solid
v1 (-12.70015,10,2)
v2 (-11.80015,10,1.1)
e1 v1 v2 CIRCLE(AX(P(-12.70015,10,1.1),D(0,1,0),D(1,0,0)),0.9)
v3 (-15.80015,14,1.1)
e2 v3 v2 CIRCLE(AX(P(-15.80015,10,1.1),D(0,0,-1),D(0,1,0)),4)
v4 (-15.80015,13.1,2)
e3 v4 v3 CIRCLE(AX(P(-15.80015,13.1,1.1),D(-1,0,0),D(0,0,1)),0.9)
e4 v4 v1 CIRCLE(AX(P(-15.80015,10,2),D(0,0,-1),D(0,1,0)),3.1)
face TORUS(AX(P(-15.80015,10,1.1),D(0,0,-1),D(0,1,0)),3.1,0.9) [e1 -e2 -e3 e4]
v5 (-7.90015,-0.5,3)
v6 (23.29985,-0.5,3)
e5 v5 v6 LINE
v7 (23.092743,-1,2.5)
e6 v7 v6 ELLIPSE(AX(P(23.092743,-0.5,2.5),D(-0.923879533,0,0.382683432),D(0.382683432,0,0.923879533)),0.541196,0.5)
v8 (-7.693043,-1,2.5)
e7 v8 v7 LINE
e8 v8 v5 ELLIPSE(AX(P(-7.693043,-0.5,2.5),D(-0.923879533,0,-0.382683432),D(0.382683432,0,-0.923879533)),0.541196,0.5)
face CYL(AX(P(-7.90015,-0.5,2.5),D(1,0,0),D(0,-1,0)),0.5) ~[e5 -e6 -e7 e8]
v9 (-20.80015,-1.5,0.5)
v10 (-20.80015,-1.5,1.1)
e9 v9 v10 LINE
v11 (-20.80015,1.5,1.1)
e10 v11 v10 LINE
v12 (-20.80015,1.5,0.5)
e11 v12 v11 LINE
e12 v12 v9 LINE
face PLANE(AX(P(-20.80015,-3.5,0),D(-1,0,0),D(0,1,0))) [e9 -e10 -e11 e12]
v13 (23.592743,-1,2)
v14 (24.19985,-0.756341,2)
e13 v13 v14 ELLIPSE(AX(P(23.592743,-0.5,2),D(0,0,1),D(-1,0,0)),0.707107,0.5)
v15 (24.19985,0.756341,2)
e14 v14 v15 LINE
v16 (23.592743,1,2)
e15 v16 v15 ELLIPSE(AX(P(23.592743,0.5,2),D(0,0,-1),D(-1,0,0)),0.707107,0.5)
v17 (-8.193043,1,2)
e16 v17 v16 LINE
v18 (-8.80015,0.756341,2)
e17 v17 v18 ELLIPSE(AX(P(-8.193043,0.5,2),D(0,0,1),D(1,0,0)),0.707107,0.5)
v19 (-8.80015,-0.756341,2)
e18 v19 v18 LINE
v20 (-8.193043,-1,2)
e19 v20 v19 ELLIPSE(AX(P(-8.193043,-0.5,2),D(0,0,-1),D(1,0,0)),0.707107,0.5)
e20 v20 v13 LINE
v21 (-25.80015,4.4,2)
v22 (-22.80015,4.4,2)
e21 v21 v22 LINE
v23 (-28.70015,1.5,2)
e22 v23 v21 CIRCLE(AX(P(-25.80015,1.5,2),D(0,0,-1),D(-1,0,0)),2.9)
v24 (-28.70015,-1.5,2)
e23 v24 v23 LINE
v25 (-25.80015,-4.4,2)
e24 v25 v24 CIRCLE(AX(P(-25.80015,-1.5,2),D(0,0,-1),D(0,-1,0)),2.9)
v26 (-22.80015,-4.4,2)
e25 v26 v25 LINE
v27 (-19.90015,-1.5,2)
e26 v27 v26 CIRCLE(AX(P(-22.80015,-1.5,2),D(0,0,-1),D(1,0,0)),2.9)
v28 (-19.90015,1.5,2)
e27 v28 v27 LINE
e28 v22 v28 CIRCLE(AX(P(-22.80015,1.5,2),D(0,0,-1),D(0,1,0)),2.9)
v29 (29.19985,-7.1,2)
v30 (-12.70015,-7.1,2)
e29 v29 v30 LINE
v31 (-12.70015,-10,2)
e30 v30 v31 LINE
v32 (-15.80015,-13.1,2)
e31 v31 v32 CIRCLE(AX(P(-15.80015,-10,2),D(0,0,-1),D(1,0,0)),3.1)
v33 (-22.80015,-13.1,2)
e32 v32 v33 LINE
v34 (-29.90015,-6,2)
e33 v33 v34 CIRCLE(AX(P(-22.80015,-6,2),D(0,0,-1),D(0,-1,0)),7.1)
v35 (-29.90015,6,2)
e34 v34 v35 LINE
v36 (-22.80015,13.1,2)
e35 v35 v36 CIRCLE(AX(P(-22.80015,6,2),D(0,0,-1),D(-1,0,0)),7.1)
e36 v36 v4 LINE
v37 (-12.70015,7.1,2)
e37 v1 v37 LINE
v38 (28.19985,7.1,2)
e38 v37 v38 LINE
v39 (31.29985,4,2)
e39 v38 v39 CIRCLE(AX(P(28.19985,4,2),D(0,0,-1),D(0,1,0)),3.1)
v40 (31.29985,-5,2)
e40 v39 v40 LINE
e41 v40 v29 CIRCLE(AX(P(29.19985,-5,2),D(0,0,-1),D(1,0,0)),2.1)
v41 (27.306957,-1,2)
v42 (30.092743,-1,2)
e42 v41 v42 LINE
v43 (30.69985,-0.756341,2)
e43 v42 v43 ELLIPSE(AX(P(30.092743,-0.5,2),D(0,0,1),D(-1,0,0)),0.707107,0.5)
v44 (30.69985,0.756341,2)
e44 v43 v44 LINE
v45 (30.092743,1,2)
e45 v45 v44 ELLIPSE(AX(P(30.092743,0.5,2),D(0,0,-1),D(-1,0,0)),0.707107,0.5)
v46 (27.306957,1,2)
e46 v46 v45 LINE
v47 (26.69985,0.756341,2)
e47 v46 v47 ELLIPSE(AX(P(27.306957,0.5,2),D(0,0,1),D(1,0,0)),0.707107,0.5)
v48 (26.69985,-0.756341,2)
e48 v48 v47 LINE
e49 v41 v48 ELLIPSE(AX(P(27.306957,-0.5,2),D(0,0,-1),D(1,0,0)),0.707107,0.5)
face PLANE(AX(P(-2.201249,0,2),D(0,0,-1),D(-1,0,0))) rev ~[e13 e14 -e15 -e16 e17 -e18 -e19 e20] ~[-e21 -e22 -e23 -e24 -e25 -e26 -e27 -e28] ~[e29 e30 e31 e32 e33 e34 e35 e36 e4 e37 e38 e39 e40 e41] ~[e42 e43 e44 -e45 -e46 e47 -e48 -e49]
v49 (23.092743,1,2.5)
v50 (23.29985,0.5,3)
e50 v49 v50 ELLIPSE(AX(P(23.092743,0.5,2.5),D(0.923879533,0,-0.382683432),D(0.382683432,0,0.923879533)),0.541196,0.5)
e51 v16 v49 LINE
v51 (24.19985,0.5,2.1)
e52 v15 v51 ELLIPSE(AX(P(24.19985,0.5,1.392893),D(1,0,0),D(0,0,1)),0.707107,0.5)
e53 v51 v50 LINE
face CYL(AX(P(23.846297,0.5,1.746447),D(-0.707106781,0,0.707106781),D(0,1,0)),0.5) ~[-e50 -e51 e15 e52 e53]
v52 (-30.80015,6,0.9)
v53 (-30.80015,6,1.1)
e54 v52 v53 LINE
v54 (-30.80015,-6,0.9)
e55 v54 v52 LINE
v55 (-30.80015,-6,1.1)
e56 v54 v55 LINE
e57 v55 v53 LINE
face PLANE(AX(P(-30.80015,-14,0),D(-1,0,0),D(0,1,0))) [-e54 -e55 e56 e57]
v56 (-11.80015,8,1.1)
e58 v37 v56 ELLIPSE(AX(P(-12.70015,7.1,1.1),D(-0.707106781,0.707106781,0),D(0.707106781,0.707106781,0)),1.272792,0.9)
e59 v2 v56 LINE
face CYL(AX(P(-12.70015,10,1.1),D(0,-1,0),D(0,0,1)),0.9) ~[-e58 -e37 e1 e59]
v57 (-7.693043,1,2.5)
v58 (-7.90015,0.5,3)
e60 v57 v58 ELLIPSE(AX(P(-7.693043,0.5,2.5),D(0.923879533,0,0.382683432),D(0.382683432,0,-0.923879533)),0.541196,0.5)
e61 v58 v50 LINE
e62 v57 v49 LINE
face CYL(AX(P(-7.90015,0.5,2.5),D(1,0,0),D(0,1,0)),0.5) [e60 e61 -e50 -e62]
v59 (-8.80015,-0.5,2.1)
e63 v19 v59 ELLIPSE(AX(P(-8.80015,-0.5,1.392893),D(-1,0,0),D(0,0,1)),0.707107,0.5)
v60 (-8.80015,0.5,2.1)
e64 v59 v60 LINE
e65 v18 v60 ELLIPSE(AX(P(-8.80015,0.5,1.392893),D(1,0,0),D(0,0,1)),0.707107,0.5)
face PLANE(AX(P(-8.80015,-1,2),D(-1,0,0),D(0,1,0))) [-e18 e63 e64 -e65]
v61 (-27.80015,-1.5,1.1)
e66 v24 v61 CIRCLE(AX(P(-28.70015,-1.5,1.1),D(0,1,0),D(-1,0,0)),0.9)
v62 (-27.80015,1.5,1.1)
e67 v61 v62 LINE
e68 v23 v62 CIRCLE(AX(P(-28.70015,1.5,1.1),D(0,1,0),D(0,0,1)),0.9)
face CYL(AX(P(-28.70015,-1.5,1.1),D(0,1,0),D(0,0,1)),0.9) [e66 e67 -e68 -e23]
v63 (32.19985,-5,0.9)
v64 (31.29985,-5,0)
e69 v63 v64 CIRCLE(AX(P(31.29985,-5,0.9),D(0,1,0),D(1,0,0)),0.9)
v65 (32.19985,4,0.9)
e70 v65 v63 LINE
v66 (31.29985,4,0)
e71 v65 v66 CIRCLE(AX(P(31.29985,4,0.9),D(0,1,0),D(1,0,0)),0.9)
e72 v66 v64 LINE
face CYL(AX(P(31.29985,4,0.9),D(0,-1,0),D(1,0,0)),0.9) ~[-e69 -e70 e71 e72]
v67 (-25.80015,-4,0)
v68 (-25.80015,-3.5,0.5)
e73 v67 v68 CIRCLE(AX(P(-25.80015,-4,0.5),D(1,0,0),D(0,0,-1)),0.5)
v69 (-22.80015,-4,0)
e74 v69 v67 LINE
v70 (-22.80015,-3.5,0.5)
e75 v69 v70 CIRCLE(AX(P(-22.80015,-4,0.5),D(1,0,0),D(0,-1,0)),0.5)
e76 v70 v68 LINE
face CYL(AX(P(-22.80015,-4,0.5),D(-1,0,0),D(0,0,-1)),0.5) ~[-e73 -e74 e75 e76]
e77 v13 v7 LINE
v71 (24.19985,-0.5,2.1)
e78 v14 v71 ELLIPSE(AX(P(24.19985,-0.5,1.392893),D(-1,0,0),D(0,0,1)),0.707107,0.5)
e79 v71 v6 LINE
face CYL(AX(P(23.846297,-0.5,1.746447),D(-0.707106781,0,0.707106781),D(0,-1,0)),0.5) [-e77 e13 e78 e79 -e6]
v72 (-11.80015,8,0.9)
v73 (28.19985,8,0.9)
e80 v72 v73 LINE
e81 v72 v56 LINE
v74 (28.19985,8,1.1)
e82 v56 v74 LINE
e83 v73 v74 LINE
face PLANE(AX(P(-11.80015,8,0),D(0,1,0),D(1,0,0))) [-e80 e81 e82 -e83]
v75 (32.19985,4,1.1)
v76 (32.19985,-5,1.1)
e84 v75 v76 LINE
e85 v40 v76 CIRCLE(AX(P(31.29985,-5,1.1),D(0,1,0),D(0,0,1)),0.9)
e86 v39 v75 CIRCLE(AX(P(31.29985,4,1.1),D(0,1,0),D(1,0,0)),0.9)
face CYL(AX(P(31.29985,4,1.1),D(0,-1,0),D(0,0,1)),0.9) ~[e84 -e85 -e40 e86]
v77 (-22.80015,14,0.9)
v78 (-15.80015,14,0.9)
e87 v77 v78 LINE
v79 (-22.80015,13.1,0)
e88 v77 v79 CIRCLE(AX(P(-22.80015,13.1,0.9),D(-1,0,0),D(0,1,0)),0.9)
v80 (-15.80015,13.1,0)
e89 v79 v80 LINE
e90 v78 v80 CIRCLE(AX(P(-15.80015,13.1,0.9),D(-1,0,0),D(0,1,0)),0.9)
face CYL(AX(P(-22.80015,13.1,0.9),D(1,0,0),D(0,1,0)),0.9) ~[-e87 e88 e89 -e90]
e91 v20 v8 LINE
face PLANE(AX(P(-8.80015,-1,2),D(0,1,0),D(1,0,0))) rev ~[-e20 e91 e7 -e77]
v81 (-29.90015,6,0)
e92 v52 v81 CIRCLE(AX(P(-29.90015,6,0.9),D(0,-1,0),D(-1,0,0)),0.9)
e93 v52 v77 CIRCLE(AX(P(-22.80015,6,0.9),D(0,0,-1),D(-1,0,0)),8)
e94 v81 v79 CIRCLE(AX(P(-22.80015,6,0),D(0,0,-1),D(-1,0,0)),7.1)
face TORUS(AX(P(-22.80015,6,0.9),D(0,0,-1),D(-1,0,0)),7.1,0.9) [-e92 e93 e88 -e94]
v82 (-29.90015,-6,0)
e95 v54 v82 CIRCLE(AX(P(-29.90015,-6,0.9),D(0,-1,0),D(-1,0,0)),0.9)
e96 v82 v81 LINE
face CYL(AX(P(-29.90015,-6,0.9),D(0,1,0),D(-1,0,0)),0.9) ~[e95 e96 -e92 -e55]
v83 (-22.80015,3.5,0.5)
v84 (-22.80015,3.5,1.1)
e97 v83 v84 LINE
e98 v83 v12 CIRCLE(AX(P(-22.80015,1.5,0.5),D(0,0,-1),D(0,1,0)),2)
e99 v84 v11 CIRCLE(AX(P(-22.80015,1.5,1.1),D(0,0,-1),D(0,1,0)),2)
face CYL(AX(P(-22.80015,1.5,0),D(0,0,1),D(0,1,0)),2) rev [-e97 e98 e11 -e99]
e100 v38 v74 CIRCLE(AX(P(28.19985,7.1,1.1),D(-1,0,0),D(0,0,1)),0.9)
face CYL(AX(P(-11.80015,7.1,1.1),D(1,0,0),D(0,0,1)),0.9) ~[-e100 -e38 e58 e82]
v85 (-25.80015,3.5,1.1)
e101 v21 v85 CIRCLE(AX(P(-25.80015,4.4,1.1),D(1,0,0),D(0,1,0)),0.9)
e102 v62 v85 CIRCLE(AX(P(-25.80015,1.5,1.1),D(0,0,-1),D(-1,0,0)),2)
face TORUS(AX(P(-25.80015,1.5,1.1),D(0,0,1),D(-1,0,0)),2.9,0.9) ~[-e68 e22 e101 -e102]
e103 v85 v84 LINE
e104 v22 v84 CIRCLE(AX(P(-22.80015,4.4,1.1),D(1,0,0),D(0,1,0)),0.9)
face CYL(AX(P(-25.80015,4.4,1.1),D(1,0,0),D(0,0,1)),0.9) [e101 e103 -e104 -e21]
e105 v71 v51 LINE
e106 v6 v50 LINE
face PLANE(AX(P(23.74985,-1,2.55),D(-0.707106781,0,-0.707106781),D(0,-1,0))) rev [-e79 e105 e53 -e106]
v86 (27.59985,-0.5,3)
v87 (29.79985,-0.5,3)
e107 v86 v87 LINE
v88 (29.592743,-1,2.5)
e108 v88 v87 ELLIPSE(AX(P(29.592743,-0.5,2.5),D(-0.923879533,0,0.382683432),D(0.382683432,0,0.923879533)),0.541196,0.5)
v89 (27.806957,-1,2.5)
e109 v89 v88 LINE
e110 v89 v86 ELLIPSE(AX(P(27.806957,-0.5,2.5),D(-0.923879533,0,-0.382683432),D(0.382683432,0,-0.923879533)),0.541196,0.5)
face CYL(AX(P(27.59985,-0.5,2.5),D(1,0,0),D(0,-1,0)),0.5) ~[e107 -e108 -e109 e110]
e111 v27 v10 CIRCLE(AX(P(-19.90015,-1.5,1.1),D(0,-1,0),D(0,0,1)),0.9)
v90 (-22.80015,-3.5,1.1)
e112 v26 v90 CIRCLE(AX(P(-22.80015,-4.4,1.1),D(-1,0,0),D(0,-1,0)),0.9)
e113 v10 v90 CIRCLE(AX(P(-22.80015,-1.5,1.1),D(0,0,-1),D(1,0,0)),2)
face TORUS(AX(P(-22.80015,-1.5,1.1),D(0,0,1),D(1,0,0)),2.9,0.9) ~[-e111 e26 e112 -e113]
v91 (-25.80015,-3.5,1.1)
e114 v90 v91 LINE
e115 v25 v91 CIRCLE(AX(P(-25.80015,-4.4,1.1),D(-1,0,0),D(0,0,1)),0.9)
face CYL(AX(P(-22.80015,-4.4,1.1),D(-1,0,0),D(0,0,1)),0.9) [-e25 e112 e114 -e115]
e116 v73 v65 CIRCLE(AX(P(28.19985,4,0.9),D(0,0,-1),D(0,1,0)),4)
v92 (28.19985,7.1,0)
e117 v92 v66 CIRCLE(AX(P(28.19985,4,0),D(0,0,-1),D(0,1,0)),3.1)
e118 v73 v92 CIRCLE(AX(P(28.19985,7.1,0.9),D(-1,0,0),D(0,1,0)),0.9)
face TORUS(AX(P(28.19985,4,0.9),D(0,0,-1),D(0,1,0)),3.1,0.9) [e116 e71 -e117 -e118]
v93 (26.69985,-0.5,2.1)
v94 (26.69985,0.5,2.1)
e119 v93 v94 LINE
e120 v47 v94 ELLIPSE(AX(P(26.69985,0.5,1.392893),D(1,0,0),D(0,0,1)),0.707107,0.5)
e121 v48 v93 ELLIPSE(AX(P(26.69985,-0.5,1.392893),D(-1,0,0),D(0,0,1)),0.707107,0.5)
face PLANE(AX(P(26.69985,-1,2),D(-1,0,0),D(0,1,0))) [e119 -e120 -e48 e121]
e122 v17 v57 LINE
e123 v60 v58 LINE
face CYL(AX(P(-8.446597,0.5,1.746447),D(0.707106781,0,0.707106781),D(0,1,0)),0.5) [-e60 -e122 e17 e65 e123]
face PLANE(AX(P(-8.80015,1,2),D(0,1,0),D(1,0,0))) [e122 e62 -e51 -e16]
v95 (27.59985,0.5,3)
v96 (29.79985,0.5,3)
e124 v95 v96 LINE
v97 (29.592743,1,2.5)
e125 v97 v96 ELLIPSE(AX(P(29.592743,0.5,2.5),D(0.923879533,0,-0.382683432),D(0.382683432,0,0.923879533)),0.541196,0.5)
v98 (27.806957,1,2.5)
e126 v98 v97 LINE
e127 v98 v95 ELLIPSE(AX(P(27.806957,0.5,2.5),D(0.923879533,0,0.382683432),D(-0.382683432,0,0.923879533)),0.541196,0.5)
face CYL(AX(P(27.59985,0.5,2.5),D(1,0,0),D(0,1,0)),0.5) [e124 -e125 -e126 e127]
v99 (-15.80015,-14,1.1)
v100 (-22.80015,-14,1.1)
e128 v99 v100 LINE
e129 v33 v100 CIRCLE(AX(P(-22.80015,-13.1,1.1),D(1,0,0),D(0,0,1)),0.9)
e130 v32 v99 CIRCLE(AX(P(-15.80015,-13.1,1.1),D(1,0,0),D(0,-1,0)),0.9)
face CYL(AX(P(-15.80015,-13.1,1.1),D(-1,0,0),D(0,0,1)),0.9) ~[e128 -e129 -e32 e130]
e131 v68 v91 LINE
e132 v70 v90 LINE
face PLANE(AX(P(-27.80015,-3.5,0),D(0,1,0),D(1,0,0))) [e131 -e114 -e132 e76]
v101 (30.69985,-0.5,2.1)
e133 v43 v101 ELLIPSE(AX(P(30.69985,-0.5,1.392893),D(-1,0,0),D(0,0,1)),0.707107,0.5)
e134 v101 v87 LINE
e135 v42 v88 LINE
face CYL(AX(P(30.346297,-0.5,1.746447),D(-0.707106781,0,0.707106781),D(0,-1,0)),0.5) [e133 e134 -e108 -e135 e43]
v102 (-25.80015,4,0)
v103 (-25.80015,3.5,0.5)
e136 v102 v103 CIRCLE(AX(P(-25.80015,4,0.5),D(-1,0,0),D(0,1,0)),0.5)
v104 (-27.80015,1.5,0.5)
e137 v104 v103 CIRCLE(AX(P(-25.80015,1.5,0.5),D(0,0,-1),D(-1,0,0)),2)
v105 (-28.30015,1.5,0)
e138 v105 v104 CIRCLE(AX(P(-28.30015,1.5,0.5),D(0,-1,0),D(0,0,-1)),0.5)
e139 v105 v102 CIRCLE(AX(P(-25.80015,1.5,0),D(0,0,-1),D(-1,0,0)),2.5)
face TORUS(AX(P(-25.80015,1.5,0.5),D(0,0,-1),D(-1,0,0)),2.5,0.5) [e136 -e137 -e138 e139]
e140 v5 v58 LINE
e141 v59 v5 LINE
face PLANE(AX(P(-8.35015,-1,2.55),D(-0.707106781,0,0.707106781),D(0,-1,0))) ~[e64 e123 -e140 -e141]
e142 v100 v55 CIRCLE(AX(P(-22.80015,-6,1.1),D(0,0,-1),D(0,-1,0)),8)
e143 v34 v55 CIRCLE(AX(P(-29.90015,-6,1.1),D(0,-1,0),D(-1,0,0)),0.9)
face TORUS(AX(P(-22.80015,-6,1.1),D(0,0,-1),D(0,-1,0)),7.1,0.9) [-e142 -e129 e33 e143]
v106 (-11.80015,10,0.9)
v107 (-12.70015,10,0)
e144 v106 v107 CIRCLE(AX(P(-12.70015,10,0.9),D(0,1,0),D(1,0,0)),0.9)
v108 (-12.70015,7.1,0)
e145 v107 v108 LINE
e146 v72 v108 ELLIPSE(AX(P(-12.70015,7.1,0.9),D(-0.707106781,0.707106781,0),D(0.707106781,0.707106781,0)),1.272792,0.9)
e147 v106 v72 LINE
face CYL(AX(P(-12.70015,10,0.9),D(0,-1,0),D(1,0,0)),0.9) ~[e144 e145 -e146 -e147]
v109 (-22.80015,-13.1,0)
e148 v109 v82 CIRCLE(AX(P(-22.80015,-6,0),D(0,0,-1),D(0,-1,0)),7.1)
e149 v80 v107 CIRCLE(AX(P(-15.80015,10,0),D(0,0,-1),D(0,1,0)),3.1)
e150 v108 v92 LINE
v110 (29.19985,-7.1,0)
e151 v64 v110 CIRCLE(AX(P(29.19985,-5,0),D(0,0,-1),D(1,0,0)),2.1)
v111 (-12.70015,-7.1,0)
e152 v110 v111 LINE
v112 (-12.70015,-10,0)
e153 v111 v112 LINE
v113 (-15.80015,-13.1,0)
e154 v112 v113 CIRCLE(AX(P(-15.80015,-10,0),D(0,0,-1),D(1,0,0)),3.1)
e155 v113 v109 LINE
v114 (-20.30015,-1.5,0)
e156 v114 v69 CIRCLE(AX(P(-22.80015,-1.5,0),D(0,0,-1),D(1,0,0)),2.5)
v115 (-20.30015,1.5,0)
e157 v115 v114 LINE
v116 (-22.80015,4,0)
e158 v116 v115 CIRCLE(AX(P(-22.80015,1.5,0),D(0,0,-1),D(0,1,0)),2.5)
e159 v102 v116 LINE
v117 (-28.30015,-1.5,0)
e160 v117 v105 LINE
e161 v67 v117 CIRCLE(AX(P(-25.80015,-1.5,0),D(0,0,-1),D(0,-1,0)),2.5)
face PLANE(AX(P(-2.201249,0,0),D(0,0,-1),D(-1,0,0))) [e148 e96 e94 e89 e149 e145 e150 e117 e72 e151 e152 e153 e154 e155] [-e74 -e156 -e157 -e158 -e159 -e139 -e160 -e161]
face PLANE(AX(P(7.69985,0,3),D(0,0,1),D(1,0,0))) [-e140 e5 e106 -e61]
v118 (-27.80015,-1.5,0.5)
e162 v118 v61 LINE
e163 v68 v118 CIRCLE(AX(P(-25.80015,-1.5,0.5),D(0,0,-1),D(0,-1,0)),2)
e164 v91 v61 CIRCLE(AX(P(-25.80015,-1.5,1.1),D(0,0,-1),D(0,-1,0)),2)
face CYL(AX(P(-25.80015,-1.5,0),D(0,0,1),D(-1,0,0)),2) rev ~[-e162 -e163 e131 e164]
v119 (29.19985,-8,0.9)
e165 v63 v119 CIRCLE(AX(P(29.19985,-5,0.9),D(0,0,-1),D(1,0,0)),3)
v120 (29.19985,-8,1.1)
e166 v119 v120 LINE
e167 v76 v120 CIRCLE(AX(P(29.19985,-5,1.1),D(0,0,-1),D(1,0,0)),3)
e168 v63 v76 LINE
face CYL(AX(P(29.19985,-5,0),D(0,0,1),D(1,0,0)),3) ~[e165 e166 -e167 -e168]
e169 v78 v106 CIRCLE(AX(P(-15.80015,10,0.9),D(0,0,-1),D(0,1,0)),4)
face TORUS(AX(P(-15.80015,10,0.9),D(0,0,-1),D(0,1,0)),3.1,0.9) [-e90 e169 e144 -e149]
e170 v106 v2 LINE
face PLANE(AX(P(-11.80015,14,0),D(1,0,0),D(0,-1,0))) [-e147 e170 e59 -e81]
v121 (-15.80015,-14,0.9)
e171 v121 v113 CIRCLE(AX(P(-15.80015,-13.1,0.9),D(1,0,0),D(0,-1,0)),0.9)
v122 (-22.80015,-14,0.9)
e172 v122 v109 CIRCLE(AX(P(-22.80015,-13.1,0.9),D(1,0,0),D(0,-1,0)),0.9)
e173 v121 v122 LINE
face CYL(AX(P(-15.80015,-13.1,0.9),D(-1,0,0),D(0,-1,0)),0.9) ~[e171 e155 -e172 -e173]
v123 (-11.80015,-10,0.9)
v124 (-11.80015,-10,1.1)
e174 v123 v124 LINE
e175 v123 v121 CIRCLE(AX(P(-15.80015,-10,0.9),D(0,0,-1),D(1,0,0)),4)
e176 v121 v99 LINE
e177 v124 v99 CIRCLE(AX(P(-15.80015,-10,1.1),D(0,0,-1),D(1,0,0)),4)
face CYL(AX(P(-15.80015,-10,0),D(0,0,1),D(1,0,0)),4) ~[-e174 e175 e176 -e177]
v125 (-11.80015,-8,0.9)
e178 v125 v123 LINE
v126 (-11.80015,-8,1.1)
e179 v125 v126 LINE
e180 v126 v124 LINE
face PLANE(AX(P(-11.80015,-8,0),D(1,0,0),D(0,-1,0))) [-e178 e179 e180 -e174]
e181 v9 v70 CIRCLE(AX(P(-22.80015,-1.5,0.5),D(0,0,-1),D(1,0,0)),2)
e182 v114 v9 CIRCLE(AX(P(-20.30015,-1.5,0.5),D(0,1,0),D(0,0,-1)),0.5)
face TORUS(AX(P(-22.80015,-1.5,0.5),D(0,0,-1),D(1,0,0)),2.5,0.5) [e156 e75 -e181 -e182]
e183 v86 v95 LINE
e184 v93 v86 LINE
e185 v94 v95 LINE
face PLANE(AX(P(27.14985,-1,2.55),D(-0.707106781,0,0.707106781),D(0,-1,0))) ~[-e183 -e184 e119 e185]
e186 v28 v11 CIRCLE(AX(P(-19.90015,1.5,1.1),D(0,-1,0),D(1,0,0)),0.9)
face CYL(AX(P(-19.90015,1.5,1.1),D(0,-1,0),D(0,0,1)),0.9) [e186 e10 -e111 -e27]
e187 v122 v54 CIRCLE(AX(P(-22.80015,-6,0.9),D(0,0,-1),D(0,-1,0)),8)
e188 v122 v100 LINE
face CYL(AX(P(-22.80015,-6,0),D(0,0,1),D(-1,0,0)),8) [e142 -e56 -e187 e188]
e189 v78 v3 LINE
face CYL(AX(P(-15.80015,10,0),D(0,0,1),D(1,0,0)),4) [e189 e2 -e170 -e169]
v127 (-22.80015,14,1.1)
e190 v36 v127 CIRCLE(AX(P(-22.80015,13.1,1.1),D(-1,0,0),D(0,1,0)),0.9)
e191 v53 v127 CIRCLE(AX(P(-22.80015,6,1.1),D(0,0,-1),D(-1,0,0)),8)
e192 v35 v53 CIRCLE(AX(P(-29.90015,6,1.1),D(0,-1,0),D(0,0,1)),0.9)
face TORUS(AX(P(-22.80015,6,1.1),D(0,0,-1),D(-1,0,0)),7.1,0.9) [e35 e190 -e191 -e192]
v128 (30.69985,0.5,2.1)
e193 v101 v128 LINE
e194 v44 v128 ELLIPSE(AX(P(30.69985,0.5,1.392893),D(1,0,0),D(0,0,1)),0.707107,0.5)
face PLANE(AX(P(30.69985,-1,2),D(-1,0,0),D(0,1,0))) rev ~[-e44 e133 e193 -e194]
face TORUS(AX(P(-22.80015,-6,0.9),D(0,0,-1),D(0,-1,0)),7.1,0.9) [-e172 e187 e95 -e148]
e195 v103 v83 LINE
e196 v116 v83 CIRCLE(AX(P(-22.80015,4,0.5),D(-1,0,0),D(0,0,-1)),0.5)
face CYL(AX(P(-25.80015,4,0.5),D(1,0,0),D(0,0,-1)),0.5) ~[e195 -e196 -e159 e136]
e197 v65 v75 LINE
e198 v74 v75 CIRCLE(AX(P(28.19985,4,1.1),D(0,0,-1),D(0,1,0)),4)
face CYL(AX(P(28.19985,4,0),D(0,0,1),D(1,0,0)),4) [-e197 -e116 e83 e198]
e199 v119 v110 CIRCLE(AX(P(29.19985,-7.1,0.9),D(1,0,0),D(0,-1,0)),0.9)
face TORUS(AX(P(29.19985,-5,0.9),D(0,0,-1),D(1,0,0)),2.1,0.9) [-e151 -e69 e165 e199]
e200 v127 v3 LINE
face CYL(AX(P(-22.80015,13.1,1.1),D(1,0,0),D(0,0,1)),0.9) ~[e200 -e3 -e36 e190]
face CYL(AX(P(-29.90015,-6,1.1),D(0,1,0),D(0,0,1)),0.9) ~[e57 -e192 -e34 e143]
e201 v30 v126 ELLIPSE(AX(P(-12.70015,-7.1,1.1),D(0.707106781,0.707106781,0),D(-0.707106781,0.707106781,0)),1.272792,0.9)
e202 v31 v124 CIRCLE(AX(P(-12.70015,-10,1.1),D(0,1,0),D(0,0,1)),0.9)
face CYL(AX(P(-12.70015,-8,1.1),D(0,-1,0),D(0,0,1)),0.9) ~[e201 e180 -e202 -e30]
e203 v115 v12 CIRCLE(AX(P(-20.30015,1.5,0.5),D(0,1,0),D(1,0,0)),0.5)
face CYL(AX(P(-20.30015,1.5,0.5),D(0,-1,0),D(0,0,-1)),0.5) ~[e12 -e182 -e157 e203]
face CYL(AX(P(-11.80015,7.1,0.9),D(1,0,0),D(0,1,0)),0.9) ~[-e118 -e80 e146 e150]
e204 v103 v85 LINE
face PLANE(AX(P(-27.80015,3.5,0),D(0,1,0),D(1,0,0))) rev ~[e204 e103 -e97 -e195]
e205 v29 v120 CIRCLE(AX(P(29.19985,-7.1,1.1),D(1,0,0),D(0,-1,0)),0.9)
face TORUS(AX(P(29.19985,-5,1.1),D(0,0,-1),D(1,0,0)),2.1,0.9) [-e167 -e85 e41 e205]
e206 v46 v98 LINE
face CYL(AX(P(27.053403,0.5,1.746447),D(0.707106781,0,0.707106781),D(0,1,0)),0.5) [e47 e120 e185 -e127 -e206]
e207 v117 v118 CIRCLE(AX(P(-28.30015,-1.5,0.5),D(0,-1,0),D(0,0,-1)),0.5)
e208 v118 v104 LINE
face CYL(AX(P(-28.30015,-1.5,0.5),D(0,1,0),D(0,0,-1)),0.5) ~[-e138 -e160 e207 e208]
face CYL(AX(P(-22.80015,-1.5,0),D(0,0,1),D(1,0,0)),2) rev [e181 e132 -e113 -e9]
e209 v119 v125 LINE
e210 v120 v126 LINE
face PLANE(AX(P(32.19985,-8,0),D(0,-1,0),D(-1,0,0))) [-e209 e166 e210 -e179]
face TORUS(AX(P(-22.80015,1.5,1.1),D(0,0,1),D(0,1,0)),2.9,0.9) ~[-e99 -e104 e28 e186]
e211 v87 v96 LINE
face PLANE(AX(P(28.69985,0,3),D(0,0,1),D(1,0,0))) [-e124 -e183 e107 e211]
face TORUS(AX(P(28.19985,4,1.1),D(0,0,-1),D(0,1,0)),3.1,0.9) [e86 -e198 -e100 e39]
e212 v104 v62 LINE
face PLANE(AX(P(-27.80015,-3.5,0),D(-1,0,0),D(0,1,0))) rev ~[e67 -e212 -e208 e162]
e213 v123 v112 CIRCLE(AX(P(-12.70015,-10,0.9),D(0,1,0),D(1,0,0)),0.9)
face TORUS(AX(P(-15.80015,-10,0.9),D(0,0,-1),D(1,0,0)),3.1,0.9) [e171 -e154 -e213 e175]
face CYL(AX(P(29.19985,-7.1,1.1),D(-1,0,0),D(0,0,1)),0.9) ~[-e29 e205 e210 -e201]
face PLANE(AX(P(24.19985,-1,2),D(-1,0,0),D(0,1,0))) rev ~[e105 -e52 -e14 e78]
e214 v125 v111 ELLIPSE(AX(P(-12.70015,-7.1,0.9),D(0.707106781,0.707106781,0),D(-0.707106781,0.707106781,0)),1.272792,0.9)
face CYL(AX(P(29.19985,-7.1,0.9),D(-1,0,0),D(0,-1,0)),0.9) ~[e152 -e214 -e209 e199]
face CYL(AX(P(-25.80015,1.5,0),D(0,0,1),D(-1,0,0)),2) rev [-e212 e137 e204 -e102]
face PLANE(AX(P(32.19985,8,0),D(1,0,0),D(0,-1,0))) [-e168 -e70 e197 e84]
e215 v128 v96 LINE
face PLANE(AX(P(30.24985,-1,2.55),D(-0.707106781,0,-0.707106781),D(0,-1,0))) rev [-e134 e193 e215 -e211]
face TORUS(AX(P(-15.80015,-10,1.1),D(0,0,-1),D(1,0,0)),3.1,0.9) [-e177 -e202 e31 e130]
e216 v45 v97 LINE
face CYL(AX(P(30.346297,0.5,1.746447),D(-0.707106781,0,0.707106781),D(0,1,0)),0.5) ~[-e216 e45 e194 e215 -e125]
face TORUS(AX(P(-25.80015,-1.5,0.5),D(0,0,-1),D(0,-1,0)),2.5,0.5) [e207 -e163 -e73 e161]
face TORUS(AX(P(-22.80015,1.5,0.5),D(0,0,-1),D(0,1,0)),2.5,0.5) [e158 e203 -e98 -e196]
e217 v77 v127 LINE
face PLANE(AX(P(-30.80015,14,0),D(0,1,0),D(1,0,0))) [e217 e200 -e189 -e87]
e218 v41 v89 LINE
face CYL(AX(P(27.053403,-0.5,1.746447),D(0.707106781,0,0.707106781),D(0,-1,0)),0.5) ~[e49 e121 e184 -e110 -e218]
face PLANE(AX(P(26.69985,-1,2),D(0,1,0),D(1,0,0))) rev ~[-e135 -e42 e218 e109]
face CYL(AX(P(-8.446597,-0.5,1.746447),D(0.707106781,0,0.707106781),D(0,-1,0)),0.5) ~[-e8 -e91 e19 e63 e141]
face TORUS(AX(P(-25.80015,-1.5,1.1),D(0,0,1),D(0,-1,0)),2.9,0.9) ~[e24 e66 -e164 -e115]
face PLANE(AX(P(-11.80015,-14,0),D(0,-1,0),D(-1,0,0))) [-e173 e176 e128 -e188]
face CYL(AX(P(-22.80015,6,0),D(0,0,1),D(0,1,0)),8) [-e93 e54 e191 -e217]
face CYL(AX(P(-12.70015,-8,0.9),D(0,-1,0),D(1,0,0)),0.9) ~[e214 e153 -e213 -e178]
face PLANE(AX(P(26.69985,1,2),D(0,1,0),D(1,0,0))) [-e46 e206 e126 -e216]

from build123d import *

# Parameters (mm, degrees)
SKETCH_W      = 7
SKETCH_H      = 7
PAD_DEPTH     = 2
FILLET_R      = 4
FILLET001_R   = 8
FILLET002_R   = 2
FILLET003_R   = 3
SKETCH001_W   = 33
SKETCH001_H   = 2
SKETCH001_W_2 = 4
PAD001_DEPTH  = 1
FILLET004_R   = 4
CHAMFER_SIZE  = 0.9
FILLET005_R   = 0.9
FILLET006_R   = 0.9
FILLET007_R   = 0.9
FILLET008_R   = 0.5
FILLET009_R   = 0.5
FILLET010_R   = 0.5


with BuildPart() as part:
    # Sketch → Pad (new body)
    with BuildSketch(Plane.XY):
        Polygon((-11.80015, 8), (32.19985, 8), (32.19985, -8), (-11.80015, -8), (-11.80015, -14), (-30.80015, -14), (-30.80015, 14), (-11.80015, 14), align=None)
        with Locations((-24.30015, 0)):
            Rectangle(SKETCH_W, SKETCH_H, mode=Mode.SUBTRACT)
    extrude(amount=PAD_DEPTH)

    # Fillet
    fillet_edges = [part.edges().sort_by_distance(p)[0] for p in [
        (-11.80015, -14, 1),
        (-11.80015, 14, 1),
    ]]
    fillet(fillet_edges, radius=FILLET_R)

    # Fillet001
    fillet001_edges = [part.edges().sort_by_distance(p)[0] for p in [
        (-30.80015, -14, 1),
        (-30.80015, 14, 1),
    ]]
    fillet(fillet001_edges, radius=FILLET001_R)

    # Fillet002
    fillet002_edges = [part.edges().sort_by_distance(p)[0] for p in [
        (-20.80015, -3.5, 1),
        (-20.80015, 3.5, 1),
        (-27.80015, 3.5, 1),
        (-27.80015, -3.5, 1),
    ]]
    fillet(fillet002_edges, radius=FILLET002_R)

    # Fillet003
    fillet003_edges = [part.edges().sort_by_distance(p)[0] for p in [
        (32.19985, -8, 1),
    ]]
    fillet(fillet003_edges, radius=FILLET003_R)

    # Sketch001 → Pad001 (new body)
    with BuildSketch(Plane.XY.offset(2)):
        with Locations((7.69985, 0)):
            Rectangle(SKETCH001_W, SKETCH001_H)
        with Locations((28.69985, 0)):
            Rectangle(SKETCH001_W_2, SKETCH001_H)
    extrude(amount=PAD001_DEPTH)

    # Fillet004
    fillet004_edges = [part.edges().sort_by_distance(p)[0] for p in [
        (32.19985, 8, 1),
    ]]
    fillet(fillet004_edges, radius=FILLET004_R)

    # Chamfer
    chamfer_edges = [part.edges().sort_by_distance(p)[0] for p in [
        (-8.80015, 0, 3),
        (24.19985, 0, 3),
        (26.69985, 0, 3),
        (30.69985, 0, 3),
    ]]
    chamfer(chamfer_edges, length=CHAMFER_SIZE)

    # Fillet005
    fillet005_edges = [part.edges().sort_by_distance(p)[0] for p in [
        (8.69985, -8, 2),
        (31.32117, -7.12132, 2),
        (32.19985, -0.5, 2),
        (31.028277, 6.828427, 2),
        (8.19985, 8, 2),
        (-11.80015, -9, 2),
        (-12.971723, -12.828427, 2),
        (-19.30015, -14, 2),
        (-28.457005, -11.656854, 2),
        (-30.80015, 0, 2),
        (-28.457005, 11.656854, 2),
        (-19.30015, 14, 2),
        (-12.971723, 12.828427, 2),
        (-11.80015, 9, 2),
    ]]
    fillet(fillet005_edges, radius=FILLET005_R)

    # Fillet006
    fillet006_edges = [part.edges().sort_by_distance(p)[0] for p in [
        (-21.385937, 2.914214, 2),
        (-20.80015, 0, 2),
        (-21.385937, -2.914214, 2),
        (-24.30015, -3.5, 2),
        (-27.214364, -2.914214, 2),
        (-27.80015, 0, 2),
        (-27.214364, 2.914214, 2),
        (-24.30015, 3.5, 2),
    ]]
    fillet(fillet006_edges, radius=FILLET006_R)

    # Fillet007
    fillet007_edges = [part.edges().sort_by_distance(p)[0] for p in [
        (8.69985, -8, 0),
        (31.32117, -7.12132, 0),
        (32.19985, -0.5, 0),
        (31.028277, 6.828427, 0),
        (8.19985, 8, 0),
        (-11.80015, 9, 0),
        (-12.971723, 12.828427, 0),
        (-19.30015, 14, 0),
        (-28.457005, 11.656854, 0),
        (-30.80015, 0, 0),
        (-28.457005, -11.656854, 0),
        (-19.30015, -14, 0),
        (-12.971723, -12.828427, 0),
        (-11.80015, -9, 0),
    ]]
    fillet(fillet007_edges, radius=FILLET007_R)

    # Fillet008
    fillet008_edges = [part.edges().sort_by_distance(p)[0] for p in [
        (-27.80015, 0, 0),
        (-27.214364, -2.914214, 0),
        (-24.30015, -3.5, 0),
        (-21.385937, -2.914214, 0),
        (-20.80015, 0, 0),
        (-21.385937, 2.914214, 0),
        (-24.30015, 3.5, 0),
        (-27.214364, 2.914214, 0),
    ]]
    fillet(fillet008_edges, radius=FILLET008_R)

    # Fillet009
    fillet009_edges = [part.edges().sort_by_distance(p)[0] for p in [
        (28.69985, -1, 3),
        (27.14985, -1, 2.55),
        (27.14985, 1, 2.55),
        (28.69985, 1, 3),
        (30.24985, 1, 2.55),
        (30.24985, -1, 2.55),
    ]]
    fillet(fillet009_edges, radius=FILLET009_R)

    # Fillet010
    fillet010_edges = [part.edges().sort_by_distance(p)[0] for p in [
        (7.69985, -1, 3),
        (7.69985, 1, 3),
        (23.74985, 1, 2.55),
        (23.74985, -1, 2.55),
        (-8.35015, -1, 2.55),
        (-8.35015, 1, 2.55),
    ]]
    fillet(fillet010_edges, radius=FILLET010_R)


solid = part.part
